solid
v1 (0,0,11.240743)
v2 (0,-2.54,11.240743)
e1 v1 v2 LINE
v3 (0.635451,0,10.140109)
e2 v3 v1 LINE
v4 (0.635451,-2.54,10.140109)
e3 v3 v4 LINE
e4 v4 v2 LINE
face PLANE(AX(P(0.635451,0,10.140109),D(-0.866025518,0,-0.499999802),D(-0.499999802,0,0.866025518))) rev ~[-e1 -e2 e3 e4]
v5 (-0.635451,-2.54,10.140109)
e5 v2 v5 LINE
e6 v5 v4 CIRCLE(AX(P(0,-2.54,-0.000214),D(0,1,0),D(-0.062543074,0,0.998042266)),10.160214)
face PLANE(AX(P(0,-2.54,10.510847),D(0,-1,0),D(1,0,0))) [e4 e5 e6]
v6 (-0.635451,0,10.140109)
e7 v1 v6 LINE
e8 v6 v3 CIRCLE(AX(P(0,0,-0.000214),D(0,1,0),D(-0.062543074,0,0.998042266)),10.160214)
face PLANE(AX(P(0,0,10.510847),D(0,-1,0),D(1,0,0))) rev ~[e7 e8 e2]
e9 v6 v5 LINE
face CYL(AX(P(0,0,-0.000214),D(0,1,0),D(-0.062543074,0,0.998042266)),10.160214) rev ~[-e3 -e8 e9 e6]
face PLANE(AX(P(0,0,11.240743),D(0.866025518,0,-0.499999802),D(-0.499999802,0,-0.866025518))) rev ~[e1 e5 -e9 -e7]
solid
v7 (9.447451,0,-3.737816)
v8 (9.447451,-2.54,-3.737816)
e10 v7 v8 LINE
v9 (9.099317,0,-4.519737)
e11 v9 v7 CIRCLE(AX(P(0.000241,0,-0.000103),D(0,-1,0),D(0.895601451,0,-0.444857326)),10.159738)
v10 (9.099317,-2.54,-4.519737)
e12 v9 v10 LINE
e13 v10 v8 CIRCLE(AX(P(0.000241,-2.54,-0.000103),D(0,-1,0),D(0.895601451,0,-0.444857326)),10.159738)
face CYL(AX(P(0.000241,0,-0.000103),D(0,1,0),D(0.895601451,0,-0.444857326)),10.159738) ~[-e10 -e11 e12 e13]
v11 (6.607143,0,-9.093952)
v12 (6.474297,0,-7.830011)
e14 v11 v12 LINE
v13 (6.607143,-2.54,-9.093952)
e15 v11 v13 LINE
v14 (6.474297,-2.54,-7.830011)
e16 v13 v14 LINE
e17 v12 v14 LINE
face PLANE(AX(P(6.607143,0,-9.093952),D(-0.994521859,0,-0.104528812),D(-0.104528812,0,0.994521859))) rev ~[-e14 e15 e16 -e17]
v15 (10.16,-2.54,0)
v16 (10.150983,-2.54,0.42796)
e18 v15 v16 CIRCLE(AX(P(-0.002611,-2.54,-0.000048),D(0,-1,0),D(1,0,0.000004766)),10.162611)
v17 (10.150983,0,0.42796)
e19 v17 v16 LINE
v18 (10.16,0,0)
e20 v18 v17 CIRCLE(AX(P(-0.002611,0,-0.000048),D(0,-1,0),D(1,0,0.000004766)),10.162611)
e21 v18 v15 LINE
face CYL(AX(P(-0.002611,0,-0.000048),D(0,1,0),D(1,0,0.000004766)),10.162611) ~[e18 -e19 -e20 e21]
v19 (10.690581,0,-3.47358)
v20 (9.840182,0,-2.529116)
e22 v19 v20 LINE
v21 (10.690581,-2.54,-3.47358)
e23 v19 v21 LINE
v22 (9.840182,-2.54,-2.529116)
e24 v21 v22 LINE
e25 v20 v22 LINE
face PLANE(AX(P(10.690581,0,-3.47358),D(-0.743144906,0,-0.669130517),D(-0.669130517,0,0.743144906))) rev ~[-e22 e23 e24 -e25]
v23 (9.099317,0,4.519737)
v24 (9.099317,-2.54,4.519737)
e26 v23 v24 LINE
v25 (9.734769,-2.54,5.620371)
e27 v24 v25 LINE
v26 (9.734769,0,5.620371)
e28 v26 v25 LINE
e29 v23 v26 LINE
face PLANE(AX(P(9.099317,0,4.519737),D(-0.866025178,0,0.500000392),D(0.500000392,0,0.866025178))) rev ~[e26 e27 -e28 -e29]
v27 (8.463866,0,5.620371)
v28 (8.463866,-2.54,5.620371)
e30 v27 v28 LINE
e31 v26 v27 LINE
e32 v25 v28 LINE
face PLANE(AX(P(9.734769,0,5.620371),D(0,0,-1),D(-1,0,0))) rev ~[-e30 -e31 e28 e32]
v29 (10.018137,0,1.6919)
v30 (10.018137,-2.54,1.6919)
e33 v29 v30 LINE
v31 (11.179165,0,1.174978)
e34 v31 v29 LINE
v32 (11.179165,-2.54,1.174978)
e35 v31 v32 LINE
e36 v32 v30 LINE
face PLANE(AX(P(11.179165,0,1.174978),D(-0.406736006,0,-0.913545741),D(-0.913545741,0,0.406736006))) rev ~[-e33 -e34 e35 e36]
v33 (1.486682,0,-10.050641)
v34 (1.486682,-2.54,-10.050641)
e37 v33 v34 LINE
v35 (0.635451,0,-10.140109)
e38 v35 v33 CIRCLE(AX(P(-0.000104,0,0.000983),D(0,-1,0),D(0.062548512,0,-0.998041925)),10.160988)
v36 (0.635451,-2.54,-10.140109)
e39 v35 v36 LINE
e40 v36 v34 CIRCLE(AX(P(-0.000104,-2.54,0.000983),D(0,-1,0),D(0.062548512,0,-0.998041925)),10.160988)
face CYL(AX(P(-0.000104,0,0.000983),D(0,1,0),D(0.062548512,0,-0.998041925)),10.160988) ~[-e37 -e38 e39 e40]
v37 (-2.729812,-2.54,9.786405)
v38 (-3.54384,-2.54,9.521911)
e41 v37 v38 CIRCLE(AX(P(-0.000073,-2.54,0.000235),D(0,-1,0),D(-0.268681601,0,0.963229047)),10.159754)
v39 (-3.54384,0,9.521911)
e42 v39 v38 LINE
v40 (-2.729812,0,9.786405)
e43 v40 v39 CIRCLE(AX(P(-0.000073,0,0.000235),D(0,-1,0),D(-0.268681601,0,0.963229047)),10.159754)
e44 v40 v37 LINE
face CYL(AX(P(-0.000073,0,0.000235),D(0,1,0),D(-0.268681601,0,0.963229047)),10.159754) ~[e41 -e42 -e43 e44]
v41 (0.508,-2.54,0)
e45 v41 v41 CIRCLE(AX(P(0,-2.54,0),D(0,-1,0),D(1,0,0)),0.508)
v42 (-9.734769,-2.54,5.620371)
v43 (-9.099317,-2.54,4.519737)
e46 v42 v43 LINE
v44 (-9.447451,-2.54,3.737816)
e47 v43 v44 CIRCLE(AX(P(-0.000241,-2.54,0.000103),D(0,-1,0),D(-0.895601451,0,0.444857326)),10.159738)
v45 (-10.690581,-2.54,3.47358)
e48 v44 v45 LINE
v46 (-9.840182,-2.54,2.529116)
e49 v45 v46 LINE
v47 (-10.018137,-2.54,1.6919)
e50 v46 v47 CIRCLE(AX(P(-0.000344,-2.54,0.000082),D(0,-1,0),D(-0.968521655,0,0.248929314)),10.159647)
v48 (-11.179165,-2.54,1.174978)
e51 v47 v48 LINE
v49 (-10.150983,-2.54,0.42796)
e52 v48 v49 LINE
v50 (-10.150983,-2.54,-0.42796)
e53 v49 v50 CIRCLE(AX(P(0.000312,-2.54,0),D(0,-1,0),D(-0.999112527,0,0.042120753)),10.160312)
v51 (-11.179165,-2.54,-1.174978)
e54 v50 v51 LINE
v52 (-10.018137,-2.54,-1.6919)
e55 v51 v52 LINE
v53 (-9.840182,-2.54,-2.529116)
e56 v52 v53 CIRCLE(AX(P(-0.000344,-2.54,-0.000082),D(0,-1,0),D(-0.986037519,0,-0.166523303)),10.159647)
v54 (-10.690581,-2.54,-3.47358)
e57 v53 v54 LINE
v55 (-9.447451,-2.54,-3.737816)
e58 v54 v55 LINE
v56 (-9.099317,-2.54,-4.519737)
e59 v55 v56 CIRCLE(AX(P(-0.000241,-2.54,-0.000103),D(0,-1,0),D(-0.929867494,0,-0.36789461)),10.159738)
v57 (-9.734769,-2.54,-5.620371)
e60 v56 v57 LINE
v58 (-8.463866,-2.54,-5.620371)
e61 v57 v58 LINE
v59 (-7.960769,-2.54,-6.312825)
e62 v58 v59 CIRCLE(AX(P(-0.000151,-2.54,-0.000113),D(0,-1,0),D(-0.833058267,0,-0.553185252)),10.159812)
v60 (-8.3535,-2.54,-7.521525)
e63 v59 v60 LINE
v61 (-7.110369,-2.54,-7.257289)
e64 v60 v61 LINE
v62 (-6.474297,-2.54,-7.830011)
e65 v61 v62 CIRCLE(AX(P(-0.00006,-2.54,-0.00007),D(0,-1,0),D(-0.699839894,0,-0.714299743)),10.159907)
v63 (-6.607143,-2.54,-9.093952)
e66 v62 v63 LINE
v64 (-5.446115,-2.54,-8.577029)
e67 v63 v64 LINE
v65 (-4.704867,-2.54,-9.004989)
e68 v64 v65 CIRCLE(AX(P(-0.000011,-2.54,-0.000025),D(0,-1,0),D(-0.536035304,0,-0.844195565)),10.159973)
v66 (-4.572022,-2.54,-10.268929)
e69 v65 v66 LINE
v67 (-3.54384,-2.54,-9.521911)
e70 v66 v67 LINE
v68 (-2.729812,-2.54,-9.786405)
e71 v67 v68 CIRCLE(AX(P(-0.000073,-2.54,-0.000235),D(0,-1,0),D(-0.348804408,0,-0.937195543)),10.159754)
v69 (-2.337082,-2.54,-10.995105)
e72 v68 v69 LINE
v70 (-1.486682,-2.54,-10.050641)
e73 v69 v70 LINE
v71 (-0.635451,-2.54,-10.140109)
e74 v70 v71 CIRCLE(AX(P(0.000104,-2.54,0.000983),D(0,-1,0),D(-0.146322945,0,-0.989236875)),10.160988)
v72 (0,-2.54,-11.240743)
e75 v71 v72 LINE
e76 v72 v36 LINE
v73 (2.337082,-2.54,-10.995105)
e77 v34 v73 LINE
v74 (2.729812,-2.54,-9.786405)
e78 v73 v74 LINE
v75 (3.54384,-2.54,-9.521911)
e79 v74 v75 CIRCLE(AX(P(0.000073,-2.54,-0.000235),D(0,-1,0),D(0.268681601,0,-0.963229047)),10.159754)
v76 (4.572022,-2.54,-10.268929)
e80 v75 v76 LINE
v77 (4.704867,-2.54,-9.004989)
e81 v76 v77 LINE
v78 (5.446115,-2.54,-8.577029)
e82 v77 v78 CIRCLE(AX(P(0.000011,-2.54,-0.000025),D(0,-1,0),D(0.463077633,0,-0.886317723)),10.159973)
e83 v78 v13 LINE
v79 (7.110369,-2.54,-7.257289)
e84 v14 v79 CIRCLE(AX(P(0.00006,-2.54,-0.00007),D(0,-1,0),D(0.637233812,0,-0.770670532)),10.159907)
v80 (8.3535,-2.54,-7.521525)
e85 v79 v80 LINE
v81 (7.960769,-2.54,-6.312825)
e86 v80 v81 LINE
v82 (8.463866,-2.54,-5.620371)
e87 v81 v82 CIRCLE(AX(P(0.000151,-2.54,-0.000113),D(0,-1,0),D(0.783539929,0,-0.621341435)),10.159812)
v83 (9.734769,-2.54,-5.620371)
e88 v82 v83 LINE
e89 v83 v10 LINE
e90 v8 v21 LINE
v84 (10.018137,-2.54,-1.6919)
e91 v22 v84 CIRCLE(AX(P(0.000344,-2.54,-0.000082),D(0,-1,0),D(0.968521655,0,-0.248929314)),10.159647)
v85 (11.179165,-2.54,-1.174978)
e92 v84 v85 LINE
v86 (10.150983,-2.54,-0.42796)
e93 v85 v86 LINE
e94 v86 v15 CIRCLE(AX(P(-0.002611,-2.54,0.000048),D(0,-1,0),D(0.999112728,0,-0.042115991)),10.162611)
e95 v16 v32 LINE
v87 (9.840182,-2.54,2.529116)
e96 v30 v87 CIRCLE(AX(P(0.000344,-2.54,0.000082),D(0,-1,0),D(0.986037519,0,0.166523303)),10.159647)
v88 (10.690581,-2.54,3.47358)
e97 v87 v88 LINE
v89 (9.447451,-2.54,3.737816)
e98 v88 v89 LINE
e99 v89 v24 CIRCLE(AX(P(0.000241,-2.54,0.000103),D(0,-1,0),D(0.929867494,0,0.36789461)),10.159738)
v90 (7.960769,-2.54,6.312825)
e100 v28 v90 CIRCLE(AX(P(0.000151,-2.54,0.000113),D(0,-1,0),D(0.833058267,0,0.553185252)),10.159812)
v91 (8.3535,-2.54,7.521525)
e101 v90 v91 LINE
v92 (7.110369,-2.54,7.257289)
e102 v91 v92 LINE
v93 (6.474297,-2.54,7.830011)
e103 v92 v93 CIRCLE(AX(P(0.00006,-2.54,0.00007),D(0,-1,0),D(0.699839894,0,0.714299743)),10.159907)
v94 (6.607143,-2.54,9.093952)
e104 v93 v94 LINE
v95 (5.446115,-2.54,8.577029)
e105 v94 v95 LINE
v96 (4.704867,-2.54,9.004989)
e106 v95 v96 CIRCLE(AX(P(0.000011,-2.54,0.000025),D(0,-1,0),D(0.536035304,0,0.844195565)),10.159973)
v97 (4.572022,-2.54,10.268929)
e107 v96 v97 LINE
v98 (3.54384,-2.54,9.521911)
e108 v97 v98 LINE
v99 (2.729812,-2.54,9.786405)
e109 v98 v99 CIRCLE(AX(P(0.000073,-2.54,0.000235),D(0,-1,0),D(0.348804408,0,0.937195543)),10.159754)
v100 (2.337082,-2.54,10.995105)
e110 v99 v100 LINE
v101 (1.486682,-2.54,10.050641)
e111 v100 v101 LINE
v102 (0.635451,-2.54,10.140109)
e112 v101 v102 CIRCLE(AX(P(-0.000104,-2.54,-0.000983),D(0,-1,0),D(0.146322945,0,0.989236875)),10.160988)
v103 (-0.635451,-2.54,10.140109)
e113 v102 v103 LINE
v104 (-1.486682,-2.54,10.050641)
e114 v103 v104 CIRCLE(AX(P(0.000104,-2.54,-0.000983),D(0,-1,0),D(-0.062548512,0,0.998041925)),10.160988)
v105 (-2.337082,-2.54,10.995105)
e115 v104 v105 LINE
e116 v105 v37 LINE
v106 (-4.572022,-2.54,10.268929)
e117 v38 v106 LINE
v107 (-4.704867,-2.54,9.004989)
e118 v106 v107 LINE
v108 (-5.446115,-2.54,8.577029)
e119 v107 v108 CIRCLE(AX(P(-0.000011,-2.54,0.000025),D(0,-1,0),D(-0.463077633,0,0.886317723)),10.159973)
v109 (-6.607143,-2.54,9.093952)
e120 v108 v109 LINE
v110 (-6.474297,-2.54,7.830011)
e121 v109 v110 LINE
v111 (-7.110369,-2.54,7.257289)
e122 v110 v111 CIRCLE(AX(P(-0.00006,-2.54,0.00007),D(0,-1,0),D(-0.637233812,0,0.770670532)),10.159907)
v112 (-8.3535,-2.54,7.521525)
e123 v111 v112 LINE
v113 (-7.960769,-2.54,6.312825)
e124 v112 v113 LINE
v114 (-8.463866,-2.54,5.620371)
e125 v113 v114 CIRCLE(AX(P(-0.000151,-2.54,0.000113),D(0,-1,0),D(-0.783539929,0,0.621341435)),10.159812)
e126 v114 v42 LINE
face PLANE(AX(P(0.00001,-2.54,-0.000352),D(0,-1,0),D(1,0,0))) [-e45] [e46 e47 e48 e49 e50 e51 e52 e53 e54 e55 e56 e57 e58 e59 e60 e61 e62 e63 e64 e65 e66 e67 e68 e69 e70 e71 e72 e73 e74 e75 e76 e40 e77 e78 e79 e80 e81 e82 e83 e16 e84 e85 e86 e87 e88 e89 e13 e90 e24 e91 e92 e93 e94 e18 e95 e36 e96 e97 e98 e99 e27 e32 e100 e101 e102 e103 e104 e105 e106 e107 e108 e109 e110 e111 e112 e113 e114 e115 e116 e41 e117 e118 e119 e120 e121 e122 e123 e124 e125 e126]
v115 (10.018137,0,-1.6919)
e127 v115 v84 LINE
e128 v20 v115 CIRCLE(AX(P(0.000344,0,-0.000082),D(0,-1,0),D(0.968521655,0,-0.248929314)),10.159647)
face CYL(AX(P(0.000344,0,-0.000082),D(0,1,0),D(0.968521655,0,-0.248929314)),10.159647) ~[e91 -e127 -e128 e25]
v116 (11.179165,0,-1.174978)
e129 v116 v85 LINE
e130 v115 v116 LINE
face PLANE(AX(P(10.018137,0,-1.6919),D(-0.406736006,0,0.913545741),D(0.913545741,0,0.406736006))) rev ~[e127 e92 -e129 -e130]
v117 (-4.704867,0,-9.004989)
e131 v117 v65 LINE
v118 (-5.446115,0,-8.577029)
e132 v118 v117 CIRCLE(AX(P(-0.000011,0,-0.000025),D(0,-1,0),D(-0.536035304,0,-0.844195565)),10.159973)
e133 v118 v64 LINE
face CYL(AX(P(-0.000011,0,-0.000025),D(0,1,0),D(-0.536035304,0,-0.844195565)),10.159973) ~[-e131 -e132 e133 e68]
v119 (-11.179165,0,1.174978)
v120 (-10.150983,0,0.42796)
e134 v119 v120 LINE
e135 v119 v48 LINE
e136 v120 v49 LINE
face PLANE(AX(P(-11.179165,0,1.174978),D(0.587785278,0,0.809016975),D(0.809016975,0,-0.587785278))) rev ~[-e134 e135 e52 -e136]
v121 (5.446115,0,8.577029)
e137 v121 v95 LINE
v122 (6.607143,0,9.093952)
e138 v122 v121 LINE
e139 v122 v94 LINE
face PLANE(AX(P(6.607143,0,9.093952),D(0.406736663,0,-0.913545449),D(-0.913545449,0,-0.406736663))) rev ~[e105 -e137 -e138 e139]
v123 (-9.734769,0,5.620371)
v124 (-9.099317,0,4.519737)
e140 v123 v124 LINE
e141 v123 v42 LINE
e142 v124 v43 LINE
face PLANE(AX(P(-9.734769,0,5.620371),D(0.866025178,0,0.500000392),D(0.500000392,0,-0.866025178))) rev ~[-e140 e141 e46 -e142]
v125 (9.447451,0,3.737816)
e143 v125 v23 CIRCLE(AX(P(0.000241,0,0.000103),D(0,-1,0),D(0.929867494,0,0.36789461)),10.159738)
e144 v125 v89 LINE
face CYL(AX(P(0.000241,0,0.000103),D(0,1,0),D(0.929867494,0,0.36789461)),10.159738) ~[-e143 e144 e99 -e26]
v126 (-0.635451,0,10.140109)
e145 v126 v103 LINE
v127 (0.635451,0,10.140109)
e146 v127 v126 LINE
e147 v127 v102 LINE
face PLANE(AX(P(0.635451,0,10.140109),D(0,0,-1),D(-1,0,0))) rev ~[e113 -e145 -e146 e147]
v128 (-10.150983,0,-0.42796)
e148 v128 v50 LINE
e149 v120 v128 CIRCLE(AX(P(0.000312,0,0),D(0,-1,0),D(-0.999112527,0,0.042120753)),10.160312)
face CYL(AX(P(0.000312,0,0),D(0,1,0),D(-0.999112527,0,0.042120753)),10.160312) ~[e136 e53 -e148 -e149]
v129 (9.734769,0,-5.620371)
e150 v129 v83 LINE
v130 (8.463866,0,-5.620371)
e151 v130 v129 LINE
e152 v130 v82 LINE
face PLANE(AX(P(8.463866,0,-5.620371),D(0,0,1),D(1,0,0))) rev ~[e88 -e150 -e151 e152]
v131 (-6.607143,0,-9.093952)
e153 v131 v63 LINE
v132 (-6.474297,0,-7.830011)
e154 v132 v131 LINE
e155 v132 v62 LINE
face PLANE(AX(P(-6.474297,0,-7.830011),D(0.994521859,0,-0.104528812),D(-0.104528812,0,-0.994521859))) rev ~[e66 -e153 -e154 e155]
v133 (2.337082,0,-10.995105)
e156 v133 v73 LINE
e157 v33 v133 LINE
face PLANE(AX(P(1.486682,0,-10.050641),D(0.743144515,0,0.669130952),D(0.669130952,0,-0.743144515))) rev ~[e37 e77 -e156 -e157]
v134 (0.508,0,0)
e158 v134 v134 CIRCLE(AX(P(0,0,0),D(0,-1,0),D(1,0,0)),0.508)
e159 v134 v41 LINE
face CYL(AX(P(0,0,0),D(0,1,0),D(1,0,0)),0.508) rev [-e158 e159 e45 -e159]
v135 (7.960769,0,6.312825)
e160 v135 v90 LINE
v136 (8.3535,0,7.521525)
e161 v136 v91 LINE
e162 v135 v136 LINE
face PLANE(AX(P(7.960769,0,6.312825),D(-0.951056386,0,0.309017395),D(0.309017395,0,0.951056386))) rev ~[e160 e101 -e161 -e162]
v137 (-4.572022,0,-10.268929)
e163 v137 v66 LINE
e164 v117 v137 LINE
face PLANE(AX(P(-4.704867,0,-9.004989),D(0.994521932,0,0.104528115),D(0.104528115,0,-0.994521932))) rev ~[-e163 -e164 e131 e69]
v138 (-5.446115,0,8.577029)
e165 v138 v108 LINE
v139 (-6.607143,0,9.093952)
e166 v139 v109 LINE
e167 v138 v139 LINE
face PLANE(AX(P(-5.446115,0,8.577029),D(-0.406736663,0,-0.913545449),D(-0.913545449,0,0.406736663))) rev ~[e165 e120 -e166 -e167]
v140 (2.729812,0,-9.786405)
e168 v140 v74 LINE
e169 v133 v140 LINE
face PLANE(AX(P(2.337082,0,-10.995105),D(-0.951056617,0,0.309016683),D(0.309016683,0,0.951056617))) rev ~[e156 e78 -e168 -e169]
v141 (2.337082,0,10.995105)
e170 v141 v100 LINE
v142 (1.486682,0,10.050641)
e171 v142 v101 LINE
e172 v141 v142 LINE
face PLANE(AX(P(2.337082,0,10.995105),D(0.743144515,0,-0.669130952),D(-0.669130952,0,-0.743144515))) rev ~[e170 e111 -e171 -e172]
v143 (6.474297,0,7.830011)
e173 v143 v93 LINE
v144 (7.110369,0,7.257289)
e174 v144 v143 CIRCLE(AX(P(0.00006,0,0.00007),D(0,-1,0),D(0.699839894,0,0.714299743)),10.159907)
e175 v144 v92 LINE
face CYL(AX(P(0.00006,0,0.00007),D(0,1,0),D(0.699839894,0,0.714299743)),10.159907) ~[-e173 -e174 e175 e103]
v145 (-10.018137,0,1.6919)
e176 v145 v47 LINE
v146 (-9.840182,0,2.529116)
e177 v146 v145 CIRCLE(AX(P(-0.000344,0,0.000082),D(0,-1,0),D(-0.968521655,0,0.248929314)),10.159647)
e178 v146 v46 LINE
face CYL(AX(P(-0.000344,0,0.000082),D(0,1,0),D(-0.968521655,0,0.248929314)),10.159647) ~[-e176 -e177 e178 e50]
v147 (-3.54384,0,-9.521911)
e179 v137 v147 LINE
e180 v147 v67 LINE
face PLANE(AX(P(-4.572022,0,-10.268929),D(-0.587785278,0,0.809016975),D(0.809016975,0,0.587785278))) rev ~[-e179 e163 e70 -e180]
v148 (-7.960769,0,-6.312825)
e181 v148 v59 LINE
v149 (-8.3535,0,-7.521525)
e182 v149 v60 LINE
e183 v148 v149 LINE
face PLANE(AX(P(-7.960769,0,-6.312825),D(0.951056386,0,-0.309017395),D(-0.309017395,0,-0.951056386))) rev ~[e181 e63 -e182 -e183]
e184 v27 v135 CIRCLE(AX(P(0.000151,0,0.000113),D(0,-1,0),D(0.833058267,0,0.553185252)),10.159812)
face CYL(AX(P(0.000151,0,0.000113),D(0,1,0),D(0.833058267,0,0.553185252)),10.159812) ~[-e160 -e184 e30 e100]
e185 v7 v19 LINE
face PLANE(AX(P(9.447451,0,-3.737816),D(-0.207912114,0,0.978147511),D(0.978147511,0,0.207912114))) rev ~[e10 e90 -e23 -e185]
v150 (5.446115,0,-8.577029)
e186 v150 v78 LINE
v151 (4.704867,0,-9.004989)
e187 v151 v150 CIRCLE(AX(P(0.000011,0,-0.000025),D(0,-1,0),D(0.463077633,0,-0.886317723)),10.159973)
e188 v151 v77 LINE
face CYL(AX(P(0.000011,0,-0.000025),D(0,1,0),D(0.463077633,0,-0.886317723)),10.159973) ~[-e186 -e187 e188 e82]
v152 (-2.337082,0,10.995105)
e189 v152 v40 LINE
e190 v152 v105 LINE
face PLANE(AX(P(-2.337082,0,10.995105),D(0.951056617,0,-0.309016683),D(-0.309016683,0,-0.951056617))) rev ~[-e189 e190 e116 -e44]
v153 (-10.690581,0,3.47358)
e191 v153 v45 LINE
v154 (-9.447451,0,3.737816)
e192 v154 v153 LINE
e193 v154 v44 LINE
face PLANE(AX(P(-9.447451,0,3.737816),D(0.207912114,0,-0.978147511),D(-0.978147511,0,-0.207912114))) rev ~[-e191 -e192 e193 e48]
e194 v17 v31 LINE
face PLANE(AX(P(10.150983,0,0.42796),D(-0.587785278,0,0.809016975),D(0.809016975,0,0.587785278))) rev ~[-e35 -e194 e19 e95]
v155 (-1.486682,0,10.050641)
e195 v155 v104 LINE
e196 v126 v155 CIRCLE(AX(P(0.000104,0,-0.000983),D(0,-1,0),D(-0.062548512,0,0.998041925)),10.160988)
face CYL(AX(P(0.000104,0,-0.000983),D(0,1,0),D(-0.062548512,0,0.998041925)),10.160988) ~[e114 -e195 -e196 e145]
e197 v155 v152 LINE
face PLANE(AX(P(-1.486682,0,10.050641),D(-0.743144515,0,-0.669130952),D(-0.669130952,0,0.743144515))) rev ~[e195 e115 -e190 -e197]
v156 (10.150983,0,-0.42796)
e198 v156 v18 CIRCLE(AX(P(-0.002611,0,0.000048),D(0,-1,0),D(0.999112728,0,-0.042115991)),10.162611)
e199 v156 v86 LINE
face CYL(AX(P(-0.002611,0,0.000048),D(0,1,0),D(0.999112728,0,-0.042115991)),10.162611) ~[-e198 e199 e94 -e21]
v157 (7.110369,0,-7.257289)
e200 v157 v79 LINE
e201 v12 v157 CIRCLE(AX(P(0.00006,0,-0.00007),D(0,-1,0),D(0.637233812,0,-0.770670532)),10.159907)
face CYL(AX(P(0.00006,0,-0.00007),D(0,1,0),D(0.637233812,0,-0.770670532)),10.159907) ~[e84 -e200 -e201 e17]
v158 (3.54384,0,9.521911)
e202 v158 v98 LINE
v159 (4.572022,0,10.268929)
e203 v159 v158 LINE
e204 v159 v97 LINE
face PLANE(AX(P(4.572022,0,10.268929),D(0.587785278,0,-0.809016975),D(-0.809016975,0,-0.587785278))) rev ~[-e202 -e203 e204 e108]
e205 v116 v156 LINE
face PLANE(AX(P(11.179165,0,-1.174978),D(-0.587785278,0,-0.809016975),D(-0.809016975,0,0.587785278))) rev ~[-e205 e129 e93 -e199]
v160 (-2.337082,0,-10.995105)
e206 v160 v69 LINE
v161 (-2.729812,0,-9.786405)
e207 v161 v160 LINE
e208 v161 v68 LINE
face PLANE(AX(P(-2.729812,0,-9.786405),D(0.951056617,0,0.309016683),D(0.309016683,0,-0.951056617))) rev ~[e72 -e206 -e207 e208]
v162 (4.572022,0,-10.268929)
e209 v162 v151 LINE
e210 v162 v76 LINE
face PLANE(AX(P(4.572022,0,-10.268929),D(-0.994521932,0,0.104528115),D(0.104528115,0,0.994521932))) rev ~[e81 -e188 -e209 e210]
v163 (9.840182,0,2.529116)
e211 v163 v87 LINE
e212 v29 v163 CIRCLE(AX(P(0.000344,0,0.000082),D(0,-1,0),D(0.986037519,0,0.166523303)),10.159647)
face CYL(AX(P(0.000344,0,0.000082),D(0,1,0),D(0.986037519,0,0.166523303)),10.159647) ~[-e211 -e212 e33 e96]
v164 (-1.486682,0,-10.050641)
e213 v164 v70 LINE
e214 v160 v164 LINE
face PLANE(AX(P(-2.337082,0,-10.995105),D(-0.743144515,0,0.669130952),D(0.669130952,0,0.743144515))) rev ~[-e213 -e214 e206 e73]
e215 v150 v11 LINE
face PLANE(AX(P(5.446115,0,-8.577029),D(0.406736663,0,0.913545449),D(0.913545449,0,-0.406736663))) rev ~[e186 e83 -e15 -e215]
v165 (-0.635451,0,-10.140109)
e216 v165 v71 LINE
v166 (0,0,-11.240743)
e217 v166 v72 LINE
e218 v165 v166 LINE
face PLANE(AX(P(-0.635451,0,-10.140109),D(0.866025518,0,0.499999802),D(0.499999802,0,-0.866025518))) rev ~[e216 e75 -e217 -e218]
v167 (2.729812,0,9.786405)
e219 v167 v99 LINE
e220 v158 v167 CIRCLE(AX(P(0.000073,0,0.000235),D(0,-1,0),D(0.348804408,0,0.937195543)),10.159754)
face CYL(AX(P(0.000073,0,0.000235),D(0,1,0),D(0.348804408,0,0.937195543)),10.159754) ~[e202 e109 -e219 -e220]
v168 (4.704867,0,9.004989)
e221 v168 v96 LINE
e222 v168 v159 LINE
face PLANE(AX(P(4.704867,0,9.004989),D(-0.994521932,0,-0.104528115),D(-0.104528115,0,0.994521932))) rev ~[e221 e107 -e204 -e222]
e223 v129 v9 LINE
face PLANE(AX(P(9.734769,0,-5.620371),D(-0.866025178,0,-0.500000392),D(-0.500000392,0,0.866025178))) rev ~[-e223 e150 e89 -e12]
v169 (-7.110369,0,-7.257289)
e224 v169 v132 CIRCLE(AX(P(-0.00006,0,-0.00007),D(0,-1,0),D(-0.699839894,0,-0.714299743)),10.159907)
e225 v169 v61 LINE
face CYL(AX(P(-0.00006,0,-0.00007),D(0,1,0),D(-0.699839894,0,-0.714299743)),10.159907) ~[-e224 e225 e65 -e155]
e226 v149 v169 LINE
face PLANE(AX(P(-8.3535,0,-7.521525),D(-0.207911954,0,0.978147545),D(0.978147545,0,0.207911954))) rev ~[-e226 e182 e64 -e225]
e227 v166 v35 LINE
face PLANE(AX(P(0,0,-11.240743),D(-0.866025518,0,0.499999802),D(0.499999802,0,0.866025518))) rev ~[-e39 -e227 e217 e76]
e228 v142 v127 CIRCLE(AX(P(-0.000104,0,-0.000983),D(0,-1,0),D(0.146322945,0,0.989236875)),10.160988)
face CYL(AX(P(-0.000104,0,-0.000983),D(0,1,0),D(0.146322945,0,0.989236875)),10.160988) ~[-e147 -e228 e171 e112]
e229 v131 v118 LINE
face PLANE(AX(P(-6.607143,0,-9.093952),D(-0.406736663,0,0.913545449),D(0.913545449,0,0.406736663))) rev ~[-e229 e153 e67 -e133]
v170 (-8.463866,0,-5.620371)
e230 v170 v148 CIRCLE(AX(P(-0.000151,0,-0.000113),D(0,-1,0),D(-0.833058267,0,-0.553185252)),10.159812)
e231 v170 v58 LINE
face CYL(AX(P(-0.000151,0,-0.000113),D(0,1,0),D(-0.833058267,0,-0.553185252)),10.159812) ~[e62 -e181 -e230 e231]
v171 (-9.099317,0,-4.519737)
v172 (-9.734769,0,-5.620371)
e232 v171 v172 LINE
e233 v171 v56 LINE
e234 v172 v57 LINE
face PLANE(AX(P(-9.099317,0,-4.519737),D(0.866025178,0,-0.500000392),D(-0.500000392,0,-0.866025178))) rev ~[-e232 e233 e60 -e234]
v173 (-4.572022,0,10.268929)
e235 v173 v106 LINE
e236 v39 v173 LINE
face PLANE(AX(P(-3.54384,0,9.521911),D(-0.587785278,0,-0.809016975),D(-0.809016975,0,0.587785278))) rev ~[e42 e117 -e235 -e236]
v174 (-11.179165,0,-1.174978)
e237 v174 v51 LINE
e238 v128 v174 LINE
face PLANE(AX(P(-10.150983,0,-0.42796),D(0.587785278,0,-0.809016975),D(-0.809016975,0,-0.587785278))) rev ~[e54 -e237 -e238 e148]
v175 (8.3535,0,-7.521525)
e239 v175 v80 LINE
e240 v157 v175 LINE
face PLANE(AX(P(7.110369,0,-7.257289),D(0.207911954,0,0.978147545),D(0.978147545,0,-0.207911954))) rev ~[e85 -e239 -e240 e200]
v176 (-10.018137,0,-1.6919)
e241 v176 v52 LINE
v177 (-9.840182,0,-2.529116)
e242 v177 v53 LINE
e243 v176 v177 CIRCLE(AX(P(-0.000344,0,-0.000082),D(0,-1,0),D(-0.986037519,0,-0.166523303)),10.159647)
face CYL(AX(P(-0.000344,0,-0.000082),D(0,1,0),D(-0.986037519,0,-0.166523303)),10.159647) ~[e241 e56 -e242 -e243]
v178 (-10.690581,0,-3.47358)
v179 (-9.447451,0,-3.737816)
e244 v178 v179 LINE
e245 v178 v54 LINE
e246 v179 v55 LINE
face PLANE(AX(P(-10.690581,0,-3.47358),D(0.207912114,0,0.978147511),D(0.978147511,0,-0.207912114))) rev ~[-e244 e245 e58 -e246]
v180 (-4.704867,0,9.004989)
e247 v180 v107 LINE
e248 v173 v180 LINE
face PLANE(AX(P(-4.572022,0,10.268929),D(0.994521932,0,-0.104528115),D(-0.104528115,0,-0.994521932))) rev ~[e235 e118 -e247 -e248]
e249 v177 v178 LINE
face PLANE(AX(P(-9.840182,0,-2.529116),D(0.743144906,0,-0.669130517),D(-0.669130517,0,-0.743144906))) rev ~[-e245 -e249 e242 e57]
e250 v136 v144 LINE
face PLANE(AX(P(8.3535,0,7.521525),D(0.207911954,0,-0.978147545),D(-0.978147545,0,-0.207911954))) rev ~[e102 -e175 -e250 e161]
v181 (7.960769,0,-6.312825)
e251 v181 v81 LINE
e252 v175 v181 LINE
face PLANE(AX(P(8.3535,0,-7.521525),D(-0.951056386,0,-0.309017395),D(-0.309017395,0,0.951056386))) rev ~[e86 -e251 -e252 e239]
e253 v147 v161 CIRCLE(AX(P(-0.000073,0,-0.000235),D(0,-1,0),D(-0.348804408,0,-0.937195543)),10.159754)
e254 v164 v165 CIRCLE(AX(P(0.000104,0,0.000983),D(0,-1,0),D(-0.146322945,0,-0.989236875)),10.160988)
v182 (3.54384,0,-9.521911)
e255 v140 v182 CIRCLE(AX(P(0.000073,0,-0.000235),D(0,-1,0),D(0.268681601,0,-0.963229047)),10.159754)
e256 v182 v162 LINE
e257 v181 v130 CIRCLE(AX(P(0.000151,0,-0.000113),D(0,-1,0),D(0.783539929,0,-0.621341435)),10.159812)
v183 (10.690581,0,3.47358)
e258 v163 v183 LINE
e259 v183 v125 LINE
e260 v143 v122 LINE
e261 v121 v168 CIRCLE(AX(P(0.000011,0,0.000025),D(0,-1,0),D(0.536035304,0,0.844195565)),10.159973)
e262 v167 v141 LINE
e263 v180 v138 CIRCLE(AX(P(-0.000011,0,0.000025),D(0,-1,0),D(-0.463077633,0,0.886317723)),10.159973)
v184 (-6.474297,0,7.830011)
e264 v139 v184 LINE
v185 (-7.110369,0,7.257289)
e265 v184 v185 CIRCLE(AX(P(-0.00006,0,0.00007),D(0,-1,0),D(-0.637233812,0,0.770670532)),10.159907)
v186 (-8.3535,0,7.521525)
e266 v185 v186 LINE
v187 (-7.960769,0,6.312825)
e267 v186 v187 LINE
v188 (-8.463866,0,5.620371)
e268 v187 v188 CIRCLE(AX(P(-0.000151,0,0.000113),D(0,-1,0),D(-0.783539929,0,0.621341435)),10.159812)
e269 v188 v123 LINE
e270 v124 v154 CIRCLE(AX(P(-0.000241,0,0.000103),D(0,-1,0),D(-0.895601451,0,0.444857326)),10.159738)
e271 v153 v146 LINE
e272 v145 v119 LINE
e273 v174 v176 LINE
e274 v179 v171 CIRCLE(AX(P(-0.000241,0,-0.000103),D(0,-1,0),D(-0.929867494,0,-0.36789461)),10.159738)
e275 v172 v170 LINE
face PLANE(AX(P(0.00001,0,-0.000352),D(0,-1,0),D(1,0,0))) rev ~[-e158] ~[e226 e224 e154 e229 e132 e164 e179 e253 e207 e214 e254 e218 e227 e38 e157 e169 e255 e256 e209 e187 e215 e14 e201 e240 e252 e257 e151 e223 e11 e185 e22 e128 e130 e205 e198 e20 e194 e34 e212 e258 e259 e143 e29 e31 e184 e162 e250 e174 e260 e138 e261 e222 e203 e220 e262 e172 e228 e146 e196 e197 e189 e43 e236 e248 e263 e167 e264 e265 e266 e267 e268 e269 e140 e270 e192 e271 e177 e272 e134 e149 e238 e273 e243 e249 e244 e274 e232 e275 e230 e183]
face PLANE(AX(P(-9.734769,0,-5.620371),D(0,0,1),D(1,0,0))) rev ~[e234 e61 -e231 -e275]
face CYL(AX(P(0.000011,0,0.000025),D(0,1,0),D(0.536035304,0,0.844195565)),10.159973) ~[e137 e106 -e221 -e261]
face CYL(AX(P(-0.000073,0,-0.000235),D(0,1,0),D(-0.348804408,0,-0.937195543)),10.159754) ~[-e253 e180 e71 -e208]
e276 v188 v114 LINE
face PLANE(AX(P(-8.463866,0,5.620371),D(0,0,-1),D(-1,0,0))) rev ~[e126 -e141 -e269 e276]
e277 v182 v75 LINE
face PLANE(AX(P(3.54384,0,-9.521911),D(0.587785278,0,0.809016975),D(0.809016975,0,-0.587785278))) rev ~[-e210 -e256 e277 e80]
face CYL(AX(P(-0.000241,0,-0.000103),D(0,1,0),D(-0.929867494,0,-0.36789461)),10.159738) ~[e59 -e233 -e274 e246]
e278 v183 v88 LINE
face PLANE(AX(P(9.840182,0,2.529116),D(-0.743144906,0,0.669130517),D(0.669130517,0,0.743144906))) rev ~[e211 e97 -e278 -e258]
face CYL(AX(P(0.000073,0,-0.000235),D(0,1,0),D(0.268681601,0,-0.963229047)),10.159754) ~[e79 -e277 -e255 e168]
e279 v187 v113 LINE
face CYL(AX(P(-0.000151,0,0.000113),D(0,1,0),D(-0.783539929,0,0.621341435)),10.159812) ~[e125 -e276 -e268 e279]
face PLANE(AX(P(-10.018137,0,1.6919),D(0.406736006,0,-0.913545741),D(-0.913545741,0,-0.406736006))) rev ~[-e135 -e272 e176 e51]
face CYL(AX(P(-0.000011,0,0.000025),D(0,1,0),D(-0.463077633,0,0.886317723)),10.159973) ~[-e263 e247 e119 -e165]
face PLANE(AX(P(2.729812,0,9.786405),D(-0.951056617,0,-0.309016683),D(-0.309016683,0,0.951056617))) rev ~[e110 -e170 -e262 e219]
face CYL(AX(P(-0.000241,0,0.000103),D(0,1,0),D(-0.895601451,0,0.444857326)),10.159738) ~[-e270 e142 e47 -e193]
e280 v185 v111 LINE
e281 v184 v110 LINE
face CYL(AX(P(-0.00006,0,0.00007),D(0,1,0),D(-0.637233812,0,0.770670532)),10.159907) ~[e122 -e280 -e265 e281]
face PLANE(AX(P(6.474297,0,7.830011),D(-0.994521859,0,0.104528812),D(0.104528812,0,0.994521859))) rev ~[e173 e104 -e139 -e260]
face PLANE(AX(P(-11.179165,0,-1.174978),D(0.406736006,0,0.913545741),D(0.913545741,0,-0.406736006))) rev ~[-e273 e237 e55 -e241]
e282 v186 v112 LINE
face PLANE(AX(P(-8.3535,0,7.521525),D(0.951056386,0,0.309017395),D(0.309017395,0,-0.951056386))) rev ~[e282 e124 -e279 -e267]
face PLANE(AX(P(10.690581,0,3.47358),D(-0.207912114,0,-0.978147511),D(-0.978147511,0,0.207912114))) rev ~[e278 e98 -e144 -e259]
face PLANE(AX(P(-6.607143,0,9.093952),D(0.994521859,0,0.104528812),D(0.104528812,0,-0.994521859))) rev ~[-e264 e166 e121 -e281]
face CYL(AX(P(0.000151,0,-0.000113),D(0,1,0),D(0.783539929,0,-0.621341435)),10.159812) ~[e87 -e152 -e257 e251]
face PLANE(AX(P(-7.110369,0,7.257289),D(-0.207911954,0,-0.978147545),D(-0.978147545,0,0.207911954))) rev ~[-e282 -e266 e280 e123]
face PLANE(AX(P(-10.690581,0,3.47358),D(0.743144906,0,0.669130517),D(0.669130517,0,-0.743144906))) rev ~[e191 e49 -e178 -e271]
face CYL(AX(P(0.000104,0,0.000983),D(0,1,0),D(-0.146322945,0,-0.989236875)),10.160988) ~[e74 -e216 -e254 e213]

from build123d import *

# Parameters (mm, degrees)
F0_R     = 0.508
F1_DEPTH = 2.54


with BuildPart() as f1:
    # F0 (on Front) → F1 (new body)
    with BuildSketch(Plane.XZ):
        with BuildLine():
            ThreePointArc((10.150983, -0.42796), (10.157745, -0.214027), (10.16, 0))
            ThreePointArc((10.16, 0), (10.157745, 0.214027), (10.150983, 0.42796))
            ThreePointArc((10.150983, 0.42796), (10.104342, 1.062009), (10.018137, 1.6919))
            ThreePointArc((10.018137, 1.6919), (9.93798, 2.112383), (9.840182, 2.529116))
            ThreePointArc((9.840182, 2.529116), (9.662734, 3.139613), (9.447451, 3.737816))
            ThreePointArc((9.447451, 3.737816), (9.281622, 4.132444), (9.099317, 4.519737))
            ThreePointArc((9.099317, 4.519737), (8.798818, 5.08), (8.463866, 5.620371))
            ThreePointArc((8.463866, 5.620371), (8.219613, 5.971898), (7.960769, 6.312825))
            ThreePointArc((7.960769, 6.312825), (7.550351, 6.798367), (7.110369, 7.257289))
            ThreePointArc((7.110369, 7.257289), (6.798367, 7.550351), (6.474297, 7.830011))
            ThreePointArc((6.474297, 7.830011), (5.971898, 8.219613), (5.446115, 8.577029))
            ThreePointArc((5.446115, 8.577029), (5.08, 8.798818), (4.704867, 9.004989))
            ThreePointArc((4.704867, 9.004989), (4.132444, 9.281622), (3.54384, 9.521911))
            ThreePointArc((3.54384, 9.521911), (3.139613, 9.662734), (2.729812, 9.786405))
            ThreePointArc((2.729812, 9.786405), (2.112383, 9.93798), (1.486682, 10.050641))
            ThreePointArc((1.486682, 10.050641), (1.062009, 10.104342), (0.635451, 10.140109))
            Line((0.635451, 10.140109), (-0.635451, 10.140109))
            ThreePointArc((-0.635451, 10.140109), (-1.062009, 10.104342), (-1.486682, 10.050641))
            ThreePointArc((-1.486682, 10.050641), (-2.112383, 9.93798), (-2.729812, 9.786405))
            ThreePointArc((-2.729812, 9.786405), (-3.139613, 9.662734), (-3.54384, 9.521911))
            ThreePointArc((-3.54384, 9.521911), (-4.132444, 9.281622), (-4.704867, 9.004989))
            ThreePointArc((-4.704867, 9.004989), (-5.08, 8.798818), (-5.446115, 8.577029))
            ThreePointArc((-5.446115, 8.577029), (-5.971898, 8.219613), (-6.474297, 7.830011))
            ThreePointArc((-6.474297, 7.830011), (-6.798367, 7.550351), (-7.110369, 7.257289))
            ThreePointArc((-7.110369, 7.257289), (-7.550351, 6.798367), (-7.960769, 6.312825))
            ThreePointArc((-7.960769, 6.312825), (-8.219613, 5.971898), (-8.463866, 5.620371))
            ThreePointArc((-8.463866, 5.620371), (-8.798818, 5.08), (-9.099317, 4.519737))
            ThreePointArc((-9.099317, 4.519737), (-9.281622, 4.132444), (-9.447451, 3.737816))
            ThreePointArc((-9.447451, 3.737816), (-9.662734, 3.139613), (-9.840182, 2.529116))
            ThreePointArc((-9.840182, 2.529116), (-9.93798, 2.112383), (-10.018137, 1.6919))
            ThreePointArc((-10.018137, 1.6919), (-10.104342, 1.062009), (-10.150983, 0.42796))
            ThreePointArc((-10.150983, 0.42796), (-10.16, 0), (-10.150983, -0.42796))
            ThreePointArc((-10.150983, -0.42796), (-10.104342, -1.062009), (-10.018137, -1.6919))
            ThreePointArc((-10.018137, -1.6919), (-9.93798, -2.112383), (-9.840182, -2.529116))
            ThreePointArc((-9.840182, -2.529116), (-9.662734, -3.139613), (-9.447451, -3.737816))
            ThreePointArc((-9.447451, -3.737816), (-9.281622, -4.132444), (-9.099317, -4.519737))
            ThreePointArc((-9.099317, -4.519737), (-8.798818, -5.08), (-8.463866, -5.620371))
            ThreePointArc((-8.463866, -5.620371), (-8.219613, -5.971898), (-7.960769, -6.312825))
            ThreePointArc((-7.960769, -6.312825), (-7.550351, -6.798367), (-7.110369, -7.257289))
            ThreePointArc((-7.110369, -7.257289), (-6.798367, -7.550351), (-6.474297, -7.830011))
            ThreePointArc((-6.474297, -7.830011), (-5.971898, -8.219613), (-5.446115, -8.577029))
            ThreePointArc((-5.446115, -8.577029), (-5.08, -8.798818), (-4.704867, -9.004989))
            ThreePointArc((-4.704867, -9.004989), (-4.132444, -9.281622), (-3.54384, -9.521911))
            ThreePointArc((-3.54384, -9.521911), (-3.139613, -9.662734), (-2.729812, -9.786405))
            ThreePointArc((-2.729812, -9.786405), (-2.112383, -9.93798), (-1.486682, -10.050641))
            ThreePointArc((-1.486682, -10.050641), (-1.062009, -10.104342), (-0.635451, -10.140109))
            ThreePointArc((-0.635451, -10.140109), (0, -10.16), (0.635451, -10.140109))
            ThreePointArc((0.635451, -10.140109), (1.062009, -10.104342), (1.486682, -10.050641))
            ThreePointArc((1.486682, -10.050641), (2.112383, -9.93798), (2.729812, -9.786405))
            ThreePointArc((2.729812, -9.786405), (3.139613, -9.662734), (3.54384, -9.521911))
            ThreePointArc((3.54384, -9.521911), (4.132444, -9.281622), (4.704867, -9.004989))
            ThreePointArc((4.704867, -9.004989), (5.08, -8.798818), (5.446115, -8.577029))
            ThreePointArc((5.446115, -8.577029), (5.971898, -8.219613), (6.474297, -7.830011))
            ThreePointArc((6.474297, -7.830011), (6.798367, -7.550351), (7.110369, -7.257289))
            ThreePointArc((7.110369, -7.257289), (7.550351, -6.798367), (7.960769, -6.312825))
            ThreePointArc((7.960769, -6.312825), (8.219613, -5.971898), (8.463866, -5.620371))
            ThreePointArc((8.463866, -5.620371), (8.798818, -5.08), (9.099317, -4.519737))
            ThreePointArc((9.099317, -4.519737), (9.281622, -4.132444), (9.447451, -3.737816))
            ThreePointArc((9.447451, -3.737816), (9.662734, -3.139613), (9.840182, -2.529116))
            ThreePointArc((9.840182, -2.529116), (9.93798, -2.112383), (10.018137, -1.6919))
            ThreePointArc((10.018137, -1.6919), (10.104342, -1.062009), (10.150983, -0.42796))
        make_face()
        Circle(F0_R, mode=Mode.SUBTRACT)
        with BuildLine():
            ThreePointArc((-9.840182, 2.529116), (-9.662734, 3.139613), (-9.447451, 3.737816))
            Line((-9.447451, 3.737816), (-10.690581, 3.47358))
            Line((-10.690581, 3.47358), (-9.840182, 2.529116))
        make_face()
        with BuildLine():
            ThreePointArc((-9.099317, 4.519737), (-8.798818, 5.08), (-8.463866, 5.620371))
            Line((-8.463866, 5.620371), (-9.734769, 5.620371))
            Line((-9.734769, 5.620371), (-9.099317, 4.519737))
        make_face()
        with BuildLine():
            ThreePointArc((-7.960769, 6.312825), (-7.550351, 6.798367), (-7.110369, 7.257289))
            Line((-7.110369, 7.257289), (-8.3535, 7.521525))
            Line((-8.3535, 7.521525), (-7.960769, 6.312825))
        make_face()
        with BuildLine():
            ThreePointArc((-6.474297, 7.830011), (-5.971898, 8.219613), (-5.446115, 8.577029))
            Line((-5.446115, 8.577029), (-6.607143, 9.093952))
            Line((-6.607143, 9.093952), (-6.474297, 7.830011))
        make_face()
        with BuildLine():
            ThreePointArc((-4.704867, 9.004989), (-4.132444, 9.281622), (-3.54384, 9.521911))
            Line((-3.54384, 9.521911), (-4.572022, 10.268929))
            Line((-4.572022, 10.268929), (-4.704867, 9.004989))
        make_face()
        with BuildLine():
            ThreePointArc((-2.729812, 9.786405), (-2.112383, 9.93798), (-1.486682, 10.050641))
            Line((-1.486682, 10.050641), (-2.337082, 10.995105))
            Line((-2.337082, 10.995105), (-2.729812, 9.786405))
        make_face()
        with BuildLine():
            ThreePointArc((-0.635451, 10.140109), (0, 10.16), (0.635451, 10.140109))
            Line((0.635451, 10.140109), (0, 11.240743))
            Line((0, 11.240743), (-0.635451, 10.140109))
        make_face()
        with BuildLine():
            ThreePointArc((1.486682, 10.050641), (2.112383, 9.93798), (2.729812, 9.786405))
            Line((2.729812, 9.786405), (2.337082, 10.995105))
            Line((2.337082, 10.995105), (1.486682, 10.050641))
        make_face()
        with BuildLine():
            ThreePointArc((3.54384, 9.521911), (4.132444, 9.281622), (4.704867, 9.004989))
            Line((4.704867, 9.004989), (4.572022, 10.268929))
            Line((4.572022, 10.268929), (3.54384, 9.521911))
        make_face()
        with BuildLine():
            ThreePointArc((5.446115, 8.577029), (5.971898, 8.219613), (6.474297, 7.830011))
            Line((6.474297, 7.830011), (6.607143, 9.093952))
            Line((6.607143, 9.093952), (5.446115, 8.577029))
        make_face()
        with BuildLine():
            ThreePointArc((7.110369, 7.257289), (7.550351, 6.798367), (7.960769, 6.312825))
            Line((7.960769, 6.312825), (8.3535, 7.521525))
            Line((8.3535, 7.521525), (7.110369, 7.257289))
        make_face()
        with BuildLine():
            ThreePointArc((8.463866, 5.620371), (8.798818, 5.08), (9.099317, 4.519737))
            Line((9.099317, 4.519737), (9.734769, 5.620371))
            Line((9.734769, 5.620371), (8.463866, 5.620371))
        make_face()
        with BuildLine():
            ThreePointArc((9.447451, 3.737816), (9.662734, 3.139613), (9.840182, 2.529116))
            Line((9.840182, 2.529116), (10.690581, 3.47358))
            Line((10.690581, 3.47358), (9.447451, 3.737816))
        make_face()
        with BuildLine():
            ThreePointArc((10.018137, 1.6919), (10.104342, 1.062009), (10.150983, 0.42796))
            Line((10.150983, 0.42796), (11.179165, 1.174978))
            Line((11.179165, 1.174978), (10.018137, 1.6919))
        make_face()
        with BuildLine():
            Line((11.179165, -1.174978), (10.150983, -0.42796))
            ThreePointArc((10.150983, -0.42796), (10.104342, -1.062009), (10.018137, -1.6919))
            Line((10.018137, -1.6919), (11.179165, -1.174978))
        make_face()
        with BuildLine():
            Line((10.690581, -3.47358), (9.840182, -2.529116))
            ThreePointArc((9.840182, -2.529116), (9.662734, -3.139613), (9.447451, -3.737816))
            Line((9.447451, -3.737816), (10.690581, -3.47358))
        make_face()
        with BuildLine():
            Line((9.734769, -5.620371), (9.099317, -4.519737))
            ThreePointArc((9.099317, -4.519737), (8.798818, -5.08), (8.463866, -5.620371))
            Line((8.463866, -5.620371), (9.734769, -5.620371))
        make_face()
        with BuildLine():
            Line((8.3535, -7.521525), (7.960769, -6.312825))
            ThreePointArc((7.960769, -6.312825), (7.550351, -6.798367), (7.110369, -7.257289))
            Line((7.110369, -7.257289), (8.3535, -7.521525))
        make_face()
        with BuildLine():
            Line((6.607143, -9.093952), (6.474297, -7.830011))
            ThreePointArc((6.474297, -7.830011), (5.971898, -8.219613), (5.446115, -8.577029))
            Line((5.446115, -8.577029), (6.607143, -9.093952))
        make_face()
        with BuildLine():
            Line((4.572022, -10.268929), (4.704867, -9.004989))
            ThreePointArc((4.704867, -9.004989), (4.132444, -9.281622), (3.54384, -9.521911))
            Line((3.54384, -9.521911), (4.572022, -10.268929))
        make_face()
        with BuildLine():
            Line((2.337082, -10.995105), (2.729812, -9.786405))
            ThreePointArc((2.729812, -9.786405), (2.112383, -9.93798), (1.486682, -10.050641))
            Line((1.486682, -10.050641), (2.337082, -10.995105))
        make_face()
        with BuildLine():
            Line((0, -11.240743), (0.635451, -10.140109))
            ThreePointArc((0.635451, -10.140109), (0, -10.16), (-0.635451, -10.140109))
            Line((-0.635451, -10.140109), (0, -11.240743))
        make_face()
        with BuildLine():
            Line((-2.337082, -10.995105), (-1.486682, -10.050641))
            ThreePointArc((-1.486682, -10.050641), (-2.112383, -9.93798), (-2.729812, -9.786405))
            Line((-2.729812, -9.786405), (-2.337082, -10.995105))
        make_face()
        with BuildLine():
            Line((-4.572022, -10.268929), (-3.54384, -9.521911))
            ThreePointArc((-3.54384, -9.521911), (-4.132444, -9.281622), (-4.704867, -9.004989))
            Line((-4.704867, -9.004989), (-4.572022, -10.268929))
        make_face()
        with BuildLine():
            Line((-6.607143, -9.093952), (-5.446115, -8.577029))
            ThreePointArc((-5.446115, -8.577029), (-5.971898, -8.219613), (-6.474297, -7.830011))
            Line((-6.474297, -7.830011), (-6.607143, -9.093952))
        make_face()
        with BuildLine():
            Line((-8.3535, -7.521525), (-7.110369, -7.257289))
            ThreePointArc((-7.110369, -7.257289), (-7.550351, -6.798367), (-7.960769, -6.312825))
            Line((-7.960769, -6.312825), (-8.3535, -7.521525))
        make_face()
        with BuildLine():
            Line((-9.734769, -5.620371), (-8.463866, -5.620371))
            ThreePointArc((-8.463866, -5.620371), (-8.798818, -5.08), (-9.099317, -4.519737))
            Line((-9.099317, -4.519737), (-9.734769, -5.620371))
        make_face()
        with BuildLine():
            Line((-10.690581, -3.47358), (-9.447451, -3.737816))
            ThreePointArc((-9.447451, -3.737816), (-9.662734, -3.139613), (-9.840182, -2.529116))
            Line((-9.840182, -2.529116), (-10.690581, -3.47358))
        make_face()
        with BuildLine():
            Line((-11.179165, -1.174978), (-10.018137, -1.6919))
            ThreePointArc((-10.018137, -1.6919), (-10.104342, -1.062009), (-10.150983, -0.42796))
            Line((-10.150983, -0.42796), (-11.179165, -1.174978))
        make_face()
        with BuildLine():
            ThreePointArc((-10.150983, 0.42796), (-10.104342, 1.062009), (-10.018137, 1.6919))
            Line((-10.018137, 1.6919), (-11.179165, 1.174978))
            Line((-11.179165, 1.174978), (-10.150983, 0.42796))
        make_face()
    extrude(amount=F1_DEPTH)


solid = f1.part
